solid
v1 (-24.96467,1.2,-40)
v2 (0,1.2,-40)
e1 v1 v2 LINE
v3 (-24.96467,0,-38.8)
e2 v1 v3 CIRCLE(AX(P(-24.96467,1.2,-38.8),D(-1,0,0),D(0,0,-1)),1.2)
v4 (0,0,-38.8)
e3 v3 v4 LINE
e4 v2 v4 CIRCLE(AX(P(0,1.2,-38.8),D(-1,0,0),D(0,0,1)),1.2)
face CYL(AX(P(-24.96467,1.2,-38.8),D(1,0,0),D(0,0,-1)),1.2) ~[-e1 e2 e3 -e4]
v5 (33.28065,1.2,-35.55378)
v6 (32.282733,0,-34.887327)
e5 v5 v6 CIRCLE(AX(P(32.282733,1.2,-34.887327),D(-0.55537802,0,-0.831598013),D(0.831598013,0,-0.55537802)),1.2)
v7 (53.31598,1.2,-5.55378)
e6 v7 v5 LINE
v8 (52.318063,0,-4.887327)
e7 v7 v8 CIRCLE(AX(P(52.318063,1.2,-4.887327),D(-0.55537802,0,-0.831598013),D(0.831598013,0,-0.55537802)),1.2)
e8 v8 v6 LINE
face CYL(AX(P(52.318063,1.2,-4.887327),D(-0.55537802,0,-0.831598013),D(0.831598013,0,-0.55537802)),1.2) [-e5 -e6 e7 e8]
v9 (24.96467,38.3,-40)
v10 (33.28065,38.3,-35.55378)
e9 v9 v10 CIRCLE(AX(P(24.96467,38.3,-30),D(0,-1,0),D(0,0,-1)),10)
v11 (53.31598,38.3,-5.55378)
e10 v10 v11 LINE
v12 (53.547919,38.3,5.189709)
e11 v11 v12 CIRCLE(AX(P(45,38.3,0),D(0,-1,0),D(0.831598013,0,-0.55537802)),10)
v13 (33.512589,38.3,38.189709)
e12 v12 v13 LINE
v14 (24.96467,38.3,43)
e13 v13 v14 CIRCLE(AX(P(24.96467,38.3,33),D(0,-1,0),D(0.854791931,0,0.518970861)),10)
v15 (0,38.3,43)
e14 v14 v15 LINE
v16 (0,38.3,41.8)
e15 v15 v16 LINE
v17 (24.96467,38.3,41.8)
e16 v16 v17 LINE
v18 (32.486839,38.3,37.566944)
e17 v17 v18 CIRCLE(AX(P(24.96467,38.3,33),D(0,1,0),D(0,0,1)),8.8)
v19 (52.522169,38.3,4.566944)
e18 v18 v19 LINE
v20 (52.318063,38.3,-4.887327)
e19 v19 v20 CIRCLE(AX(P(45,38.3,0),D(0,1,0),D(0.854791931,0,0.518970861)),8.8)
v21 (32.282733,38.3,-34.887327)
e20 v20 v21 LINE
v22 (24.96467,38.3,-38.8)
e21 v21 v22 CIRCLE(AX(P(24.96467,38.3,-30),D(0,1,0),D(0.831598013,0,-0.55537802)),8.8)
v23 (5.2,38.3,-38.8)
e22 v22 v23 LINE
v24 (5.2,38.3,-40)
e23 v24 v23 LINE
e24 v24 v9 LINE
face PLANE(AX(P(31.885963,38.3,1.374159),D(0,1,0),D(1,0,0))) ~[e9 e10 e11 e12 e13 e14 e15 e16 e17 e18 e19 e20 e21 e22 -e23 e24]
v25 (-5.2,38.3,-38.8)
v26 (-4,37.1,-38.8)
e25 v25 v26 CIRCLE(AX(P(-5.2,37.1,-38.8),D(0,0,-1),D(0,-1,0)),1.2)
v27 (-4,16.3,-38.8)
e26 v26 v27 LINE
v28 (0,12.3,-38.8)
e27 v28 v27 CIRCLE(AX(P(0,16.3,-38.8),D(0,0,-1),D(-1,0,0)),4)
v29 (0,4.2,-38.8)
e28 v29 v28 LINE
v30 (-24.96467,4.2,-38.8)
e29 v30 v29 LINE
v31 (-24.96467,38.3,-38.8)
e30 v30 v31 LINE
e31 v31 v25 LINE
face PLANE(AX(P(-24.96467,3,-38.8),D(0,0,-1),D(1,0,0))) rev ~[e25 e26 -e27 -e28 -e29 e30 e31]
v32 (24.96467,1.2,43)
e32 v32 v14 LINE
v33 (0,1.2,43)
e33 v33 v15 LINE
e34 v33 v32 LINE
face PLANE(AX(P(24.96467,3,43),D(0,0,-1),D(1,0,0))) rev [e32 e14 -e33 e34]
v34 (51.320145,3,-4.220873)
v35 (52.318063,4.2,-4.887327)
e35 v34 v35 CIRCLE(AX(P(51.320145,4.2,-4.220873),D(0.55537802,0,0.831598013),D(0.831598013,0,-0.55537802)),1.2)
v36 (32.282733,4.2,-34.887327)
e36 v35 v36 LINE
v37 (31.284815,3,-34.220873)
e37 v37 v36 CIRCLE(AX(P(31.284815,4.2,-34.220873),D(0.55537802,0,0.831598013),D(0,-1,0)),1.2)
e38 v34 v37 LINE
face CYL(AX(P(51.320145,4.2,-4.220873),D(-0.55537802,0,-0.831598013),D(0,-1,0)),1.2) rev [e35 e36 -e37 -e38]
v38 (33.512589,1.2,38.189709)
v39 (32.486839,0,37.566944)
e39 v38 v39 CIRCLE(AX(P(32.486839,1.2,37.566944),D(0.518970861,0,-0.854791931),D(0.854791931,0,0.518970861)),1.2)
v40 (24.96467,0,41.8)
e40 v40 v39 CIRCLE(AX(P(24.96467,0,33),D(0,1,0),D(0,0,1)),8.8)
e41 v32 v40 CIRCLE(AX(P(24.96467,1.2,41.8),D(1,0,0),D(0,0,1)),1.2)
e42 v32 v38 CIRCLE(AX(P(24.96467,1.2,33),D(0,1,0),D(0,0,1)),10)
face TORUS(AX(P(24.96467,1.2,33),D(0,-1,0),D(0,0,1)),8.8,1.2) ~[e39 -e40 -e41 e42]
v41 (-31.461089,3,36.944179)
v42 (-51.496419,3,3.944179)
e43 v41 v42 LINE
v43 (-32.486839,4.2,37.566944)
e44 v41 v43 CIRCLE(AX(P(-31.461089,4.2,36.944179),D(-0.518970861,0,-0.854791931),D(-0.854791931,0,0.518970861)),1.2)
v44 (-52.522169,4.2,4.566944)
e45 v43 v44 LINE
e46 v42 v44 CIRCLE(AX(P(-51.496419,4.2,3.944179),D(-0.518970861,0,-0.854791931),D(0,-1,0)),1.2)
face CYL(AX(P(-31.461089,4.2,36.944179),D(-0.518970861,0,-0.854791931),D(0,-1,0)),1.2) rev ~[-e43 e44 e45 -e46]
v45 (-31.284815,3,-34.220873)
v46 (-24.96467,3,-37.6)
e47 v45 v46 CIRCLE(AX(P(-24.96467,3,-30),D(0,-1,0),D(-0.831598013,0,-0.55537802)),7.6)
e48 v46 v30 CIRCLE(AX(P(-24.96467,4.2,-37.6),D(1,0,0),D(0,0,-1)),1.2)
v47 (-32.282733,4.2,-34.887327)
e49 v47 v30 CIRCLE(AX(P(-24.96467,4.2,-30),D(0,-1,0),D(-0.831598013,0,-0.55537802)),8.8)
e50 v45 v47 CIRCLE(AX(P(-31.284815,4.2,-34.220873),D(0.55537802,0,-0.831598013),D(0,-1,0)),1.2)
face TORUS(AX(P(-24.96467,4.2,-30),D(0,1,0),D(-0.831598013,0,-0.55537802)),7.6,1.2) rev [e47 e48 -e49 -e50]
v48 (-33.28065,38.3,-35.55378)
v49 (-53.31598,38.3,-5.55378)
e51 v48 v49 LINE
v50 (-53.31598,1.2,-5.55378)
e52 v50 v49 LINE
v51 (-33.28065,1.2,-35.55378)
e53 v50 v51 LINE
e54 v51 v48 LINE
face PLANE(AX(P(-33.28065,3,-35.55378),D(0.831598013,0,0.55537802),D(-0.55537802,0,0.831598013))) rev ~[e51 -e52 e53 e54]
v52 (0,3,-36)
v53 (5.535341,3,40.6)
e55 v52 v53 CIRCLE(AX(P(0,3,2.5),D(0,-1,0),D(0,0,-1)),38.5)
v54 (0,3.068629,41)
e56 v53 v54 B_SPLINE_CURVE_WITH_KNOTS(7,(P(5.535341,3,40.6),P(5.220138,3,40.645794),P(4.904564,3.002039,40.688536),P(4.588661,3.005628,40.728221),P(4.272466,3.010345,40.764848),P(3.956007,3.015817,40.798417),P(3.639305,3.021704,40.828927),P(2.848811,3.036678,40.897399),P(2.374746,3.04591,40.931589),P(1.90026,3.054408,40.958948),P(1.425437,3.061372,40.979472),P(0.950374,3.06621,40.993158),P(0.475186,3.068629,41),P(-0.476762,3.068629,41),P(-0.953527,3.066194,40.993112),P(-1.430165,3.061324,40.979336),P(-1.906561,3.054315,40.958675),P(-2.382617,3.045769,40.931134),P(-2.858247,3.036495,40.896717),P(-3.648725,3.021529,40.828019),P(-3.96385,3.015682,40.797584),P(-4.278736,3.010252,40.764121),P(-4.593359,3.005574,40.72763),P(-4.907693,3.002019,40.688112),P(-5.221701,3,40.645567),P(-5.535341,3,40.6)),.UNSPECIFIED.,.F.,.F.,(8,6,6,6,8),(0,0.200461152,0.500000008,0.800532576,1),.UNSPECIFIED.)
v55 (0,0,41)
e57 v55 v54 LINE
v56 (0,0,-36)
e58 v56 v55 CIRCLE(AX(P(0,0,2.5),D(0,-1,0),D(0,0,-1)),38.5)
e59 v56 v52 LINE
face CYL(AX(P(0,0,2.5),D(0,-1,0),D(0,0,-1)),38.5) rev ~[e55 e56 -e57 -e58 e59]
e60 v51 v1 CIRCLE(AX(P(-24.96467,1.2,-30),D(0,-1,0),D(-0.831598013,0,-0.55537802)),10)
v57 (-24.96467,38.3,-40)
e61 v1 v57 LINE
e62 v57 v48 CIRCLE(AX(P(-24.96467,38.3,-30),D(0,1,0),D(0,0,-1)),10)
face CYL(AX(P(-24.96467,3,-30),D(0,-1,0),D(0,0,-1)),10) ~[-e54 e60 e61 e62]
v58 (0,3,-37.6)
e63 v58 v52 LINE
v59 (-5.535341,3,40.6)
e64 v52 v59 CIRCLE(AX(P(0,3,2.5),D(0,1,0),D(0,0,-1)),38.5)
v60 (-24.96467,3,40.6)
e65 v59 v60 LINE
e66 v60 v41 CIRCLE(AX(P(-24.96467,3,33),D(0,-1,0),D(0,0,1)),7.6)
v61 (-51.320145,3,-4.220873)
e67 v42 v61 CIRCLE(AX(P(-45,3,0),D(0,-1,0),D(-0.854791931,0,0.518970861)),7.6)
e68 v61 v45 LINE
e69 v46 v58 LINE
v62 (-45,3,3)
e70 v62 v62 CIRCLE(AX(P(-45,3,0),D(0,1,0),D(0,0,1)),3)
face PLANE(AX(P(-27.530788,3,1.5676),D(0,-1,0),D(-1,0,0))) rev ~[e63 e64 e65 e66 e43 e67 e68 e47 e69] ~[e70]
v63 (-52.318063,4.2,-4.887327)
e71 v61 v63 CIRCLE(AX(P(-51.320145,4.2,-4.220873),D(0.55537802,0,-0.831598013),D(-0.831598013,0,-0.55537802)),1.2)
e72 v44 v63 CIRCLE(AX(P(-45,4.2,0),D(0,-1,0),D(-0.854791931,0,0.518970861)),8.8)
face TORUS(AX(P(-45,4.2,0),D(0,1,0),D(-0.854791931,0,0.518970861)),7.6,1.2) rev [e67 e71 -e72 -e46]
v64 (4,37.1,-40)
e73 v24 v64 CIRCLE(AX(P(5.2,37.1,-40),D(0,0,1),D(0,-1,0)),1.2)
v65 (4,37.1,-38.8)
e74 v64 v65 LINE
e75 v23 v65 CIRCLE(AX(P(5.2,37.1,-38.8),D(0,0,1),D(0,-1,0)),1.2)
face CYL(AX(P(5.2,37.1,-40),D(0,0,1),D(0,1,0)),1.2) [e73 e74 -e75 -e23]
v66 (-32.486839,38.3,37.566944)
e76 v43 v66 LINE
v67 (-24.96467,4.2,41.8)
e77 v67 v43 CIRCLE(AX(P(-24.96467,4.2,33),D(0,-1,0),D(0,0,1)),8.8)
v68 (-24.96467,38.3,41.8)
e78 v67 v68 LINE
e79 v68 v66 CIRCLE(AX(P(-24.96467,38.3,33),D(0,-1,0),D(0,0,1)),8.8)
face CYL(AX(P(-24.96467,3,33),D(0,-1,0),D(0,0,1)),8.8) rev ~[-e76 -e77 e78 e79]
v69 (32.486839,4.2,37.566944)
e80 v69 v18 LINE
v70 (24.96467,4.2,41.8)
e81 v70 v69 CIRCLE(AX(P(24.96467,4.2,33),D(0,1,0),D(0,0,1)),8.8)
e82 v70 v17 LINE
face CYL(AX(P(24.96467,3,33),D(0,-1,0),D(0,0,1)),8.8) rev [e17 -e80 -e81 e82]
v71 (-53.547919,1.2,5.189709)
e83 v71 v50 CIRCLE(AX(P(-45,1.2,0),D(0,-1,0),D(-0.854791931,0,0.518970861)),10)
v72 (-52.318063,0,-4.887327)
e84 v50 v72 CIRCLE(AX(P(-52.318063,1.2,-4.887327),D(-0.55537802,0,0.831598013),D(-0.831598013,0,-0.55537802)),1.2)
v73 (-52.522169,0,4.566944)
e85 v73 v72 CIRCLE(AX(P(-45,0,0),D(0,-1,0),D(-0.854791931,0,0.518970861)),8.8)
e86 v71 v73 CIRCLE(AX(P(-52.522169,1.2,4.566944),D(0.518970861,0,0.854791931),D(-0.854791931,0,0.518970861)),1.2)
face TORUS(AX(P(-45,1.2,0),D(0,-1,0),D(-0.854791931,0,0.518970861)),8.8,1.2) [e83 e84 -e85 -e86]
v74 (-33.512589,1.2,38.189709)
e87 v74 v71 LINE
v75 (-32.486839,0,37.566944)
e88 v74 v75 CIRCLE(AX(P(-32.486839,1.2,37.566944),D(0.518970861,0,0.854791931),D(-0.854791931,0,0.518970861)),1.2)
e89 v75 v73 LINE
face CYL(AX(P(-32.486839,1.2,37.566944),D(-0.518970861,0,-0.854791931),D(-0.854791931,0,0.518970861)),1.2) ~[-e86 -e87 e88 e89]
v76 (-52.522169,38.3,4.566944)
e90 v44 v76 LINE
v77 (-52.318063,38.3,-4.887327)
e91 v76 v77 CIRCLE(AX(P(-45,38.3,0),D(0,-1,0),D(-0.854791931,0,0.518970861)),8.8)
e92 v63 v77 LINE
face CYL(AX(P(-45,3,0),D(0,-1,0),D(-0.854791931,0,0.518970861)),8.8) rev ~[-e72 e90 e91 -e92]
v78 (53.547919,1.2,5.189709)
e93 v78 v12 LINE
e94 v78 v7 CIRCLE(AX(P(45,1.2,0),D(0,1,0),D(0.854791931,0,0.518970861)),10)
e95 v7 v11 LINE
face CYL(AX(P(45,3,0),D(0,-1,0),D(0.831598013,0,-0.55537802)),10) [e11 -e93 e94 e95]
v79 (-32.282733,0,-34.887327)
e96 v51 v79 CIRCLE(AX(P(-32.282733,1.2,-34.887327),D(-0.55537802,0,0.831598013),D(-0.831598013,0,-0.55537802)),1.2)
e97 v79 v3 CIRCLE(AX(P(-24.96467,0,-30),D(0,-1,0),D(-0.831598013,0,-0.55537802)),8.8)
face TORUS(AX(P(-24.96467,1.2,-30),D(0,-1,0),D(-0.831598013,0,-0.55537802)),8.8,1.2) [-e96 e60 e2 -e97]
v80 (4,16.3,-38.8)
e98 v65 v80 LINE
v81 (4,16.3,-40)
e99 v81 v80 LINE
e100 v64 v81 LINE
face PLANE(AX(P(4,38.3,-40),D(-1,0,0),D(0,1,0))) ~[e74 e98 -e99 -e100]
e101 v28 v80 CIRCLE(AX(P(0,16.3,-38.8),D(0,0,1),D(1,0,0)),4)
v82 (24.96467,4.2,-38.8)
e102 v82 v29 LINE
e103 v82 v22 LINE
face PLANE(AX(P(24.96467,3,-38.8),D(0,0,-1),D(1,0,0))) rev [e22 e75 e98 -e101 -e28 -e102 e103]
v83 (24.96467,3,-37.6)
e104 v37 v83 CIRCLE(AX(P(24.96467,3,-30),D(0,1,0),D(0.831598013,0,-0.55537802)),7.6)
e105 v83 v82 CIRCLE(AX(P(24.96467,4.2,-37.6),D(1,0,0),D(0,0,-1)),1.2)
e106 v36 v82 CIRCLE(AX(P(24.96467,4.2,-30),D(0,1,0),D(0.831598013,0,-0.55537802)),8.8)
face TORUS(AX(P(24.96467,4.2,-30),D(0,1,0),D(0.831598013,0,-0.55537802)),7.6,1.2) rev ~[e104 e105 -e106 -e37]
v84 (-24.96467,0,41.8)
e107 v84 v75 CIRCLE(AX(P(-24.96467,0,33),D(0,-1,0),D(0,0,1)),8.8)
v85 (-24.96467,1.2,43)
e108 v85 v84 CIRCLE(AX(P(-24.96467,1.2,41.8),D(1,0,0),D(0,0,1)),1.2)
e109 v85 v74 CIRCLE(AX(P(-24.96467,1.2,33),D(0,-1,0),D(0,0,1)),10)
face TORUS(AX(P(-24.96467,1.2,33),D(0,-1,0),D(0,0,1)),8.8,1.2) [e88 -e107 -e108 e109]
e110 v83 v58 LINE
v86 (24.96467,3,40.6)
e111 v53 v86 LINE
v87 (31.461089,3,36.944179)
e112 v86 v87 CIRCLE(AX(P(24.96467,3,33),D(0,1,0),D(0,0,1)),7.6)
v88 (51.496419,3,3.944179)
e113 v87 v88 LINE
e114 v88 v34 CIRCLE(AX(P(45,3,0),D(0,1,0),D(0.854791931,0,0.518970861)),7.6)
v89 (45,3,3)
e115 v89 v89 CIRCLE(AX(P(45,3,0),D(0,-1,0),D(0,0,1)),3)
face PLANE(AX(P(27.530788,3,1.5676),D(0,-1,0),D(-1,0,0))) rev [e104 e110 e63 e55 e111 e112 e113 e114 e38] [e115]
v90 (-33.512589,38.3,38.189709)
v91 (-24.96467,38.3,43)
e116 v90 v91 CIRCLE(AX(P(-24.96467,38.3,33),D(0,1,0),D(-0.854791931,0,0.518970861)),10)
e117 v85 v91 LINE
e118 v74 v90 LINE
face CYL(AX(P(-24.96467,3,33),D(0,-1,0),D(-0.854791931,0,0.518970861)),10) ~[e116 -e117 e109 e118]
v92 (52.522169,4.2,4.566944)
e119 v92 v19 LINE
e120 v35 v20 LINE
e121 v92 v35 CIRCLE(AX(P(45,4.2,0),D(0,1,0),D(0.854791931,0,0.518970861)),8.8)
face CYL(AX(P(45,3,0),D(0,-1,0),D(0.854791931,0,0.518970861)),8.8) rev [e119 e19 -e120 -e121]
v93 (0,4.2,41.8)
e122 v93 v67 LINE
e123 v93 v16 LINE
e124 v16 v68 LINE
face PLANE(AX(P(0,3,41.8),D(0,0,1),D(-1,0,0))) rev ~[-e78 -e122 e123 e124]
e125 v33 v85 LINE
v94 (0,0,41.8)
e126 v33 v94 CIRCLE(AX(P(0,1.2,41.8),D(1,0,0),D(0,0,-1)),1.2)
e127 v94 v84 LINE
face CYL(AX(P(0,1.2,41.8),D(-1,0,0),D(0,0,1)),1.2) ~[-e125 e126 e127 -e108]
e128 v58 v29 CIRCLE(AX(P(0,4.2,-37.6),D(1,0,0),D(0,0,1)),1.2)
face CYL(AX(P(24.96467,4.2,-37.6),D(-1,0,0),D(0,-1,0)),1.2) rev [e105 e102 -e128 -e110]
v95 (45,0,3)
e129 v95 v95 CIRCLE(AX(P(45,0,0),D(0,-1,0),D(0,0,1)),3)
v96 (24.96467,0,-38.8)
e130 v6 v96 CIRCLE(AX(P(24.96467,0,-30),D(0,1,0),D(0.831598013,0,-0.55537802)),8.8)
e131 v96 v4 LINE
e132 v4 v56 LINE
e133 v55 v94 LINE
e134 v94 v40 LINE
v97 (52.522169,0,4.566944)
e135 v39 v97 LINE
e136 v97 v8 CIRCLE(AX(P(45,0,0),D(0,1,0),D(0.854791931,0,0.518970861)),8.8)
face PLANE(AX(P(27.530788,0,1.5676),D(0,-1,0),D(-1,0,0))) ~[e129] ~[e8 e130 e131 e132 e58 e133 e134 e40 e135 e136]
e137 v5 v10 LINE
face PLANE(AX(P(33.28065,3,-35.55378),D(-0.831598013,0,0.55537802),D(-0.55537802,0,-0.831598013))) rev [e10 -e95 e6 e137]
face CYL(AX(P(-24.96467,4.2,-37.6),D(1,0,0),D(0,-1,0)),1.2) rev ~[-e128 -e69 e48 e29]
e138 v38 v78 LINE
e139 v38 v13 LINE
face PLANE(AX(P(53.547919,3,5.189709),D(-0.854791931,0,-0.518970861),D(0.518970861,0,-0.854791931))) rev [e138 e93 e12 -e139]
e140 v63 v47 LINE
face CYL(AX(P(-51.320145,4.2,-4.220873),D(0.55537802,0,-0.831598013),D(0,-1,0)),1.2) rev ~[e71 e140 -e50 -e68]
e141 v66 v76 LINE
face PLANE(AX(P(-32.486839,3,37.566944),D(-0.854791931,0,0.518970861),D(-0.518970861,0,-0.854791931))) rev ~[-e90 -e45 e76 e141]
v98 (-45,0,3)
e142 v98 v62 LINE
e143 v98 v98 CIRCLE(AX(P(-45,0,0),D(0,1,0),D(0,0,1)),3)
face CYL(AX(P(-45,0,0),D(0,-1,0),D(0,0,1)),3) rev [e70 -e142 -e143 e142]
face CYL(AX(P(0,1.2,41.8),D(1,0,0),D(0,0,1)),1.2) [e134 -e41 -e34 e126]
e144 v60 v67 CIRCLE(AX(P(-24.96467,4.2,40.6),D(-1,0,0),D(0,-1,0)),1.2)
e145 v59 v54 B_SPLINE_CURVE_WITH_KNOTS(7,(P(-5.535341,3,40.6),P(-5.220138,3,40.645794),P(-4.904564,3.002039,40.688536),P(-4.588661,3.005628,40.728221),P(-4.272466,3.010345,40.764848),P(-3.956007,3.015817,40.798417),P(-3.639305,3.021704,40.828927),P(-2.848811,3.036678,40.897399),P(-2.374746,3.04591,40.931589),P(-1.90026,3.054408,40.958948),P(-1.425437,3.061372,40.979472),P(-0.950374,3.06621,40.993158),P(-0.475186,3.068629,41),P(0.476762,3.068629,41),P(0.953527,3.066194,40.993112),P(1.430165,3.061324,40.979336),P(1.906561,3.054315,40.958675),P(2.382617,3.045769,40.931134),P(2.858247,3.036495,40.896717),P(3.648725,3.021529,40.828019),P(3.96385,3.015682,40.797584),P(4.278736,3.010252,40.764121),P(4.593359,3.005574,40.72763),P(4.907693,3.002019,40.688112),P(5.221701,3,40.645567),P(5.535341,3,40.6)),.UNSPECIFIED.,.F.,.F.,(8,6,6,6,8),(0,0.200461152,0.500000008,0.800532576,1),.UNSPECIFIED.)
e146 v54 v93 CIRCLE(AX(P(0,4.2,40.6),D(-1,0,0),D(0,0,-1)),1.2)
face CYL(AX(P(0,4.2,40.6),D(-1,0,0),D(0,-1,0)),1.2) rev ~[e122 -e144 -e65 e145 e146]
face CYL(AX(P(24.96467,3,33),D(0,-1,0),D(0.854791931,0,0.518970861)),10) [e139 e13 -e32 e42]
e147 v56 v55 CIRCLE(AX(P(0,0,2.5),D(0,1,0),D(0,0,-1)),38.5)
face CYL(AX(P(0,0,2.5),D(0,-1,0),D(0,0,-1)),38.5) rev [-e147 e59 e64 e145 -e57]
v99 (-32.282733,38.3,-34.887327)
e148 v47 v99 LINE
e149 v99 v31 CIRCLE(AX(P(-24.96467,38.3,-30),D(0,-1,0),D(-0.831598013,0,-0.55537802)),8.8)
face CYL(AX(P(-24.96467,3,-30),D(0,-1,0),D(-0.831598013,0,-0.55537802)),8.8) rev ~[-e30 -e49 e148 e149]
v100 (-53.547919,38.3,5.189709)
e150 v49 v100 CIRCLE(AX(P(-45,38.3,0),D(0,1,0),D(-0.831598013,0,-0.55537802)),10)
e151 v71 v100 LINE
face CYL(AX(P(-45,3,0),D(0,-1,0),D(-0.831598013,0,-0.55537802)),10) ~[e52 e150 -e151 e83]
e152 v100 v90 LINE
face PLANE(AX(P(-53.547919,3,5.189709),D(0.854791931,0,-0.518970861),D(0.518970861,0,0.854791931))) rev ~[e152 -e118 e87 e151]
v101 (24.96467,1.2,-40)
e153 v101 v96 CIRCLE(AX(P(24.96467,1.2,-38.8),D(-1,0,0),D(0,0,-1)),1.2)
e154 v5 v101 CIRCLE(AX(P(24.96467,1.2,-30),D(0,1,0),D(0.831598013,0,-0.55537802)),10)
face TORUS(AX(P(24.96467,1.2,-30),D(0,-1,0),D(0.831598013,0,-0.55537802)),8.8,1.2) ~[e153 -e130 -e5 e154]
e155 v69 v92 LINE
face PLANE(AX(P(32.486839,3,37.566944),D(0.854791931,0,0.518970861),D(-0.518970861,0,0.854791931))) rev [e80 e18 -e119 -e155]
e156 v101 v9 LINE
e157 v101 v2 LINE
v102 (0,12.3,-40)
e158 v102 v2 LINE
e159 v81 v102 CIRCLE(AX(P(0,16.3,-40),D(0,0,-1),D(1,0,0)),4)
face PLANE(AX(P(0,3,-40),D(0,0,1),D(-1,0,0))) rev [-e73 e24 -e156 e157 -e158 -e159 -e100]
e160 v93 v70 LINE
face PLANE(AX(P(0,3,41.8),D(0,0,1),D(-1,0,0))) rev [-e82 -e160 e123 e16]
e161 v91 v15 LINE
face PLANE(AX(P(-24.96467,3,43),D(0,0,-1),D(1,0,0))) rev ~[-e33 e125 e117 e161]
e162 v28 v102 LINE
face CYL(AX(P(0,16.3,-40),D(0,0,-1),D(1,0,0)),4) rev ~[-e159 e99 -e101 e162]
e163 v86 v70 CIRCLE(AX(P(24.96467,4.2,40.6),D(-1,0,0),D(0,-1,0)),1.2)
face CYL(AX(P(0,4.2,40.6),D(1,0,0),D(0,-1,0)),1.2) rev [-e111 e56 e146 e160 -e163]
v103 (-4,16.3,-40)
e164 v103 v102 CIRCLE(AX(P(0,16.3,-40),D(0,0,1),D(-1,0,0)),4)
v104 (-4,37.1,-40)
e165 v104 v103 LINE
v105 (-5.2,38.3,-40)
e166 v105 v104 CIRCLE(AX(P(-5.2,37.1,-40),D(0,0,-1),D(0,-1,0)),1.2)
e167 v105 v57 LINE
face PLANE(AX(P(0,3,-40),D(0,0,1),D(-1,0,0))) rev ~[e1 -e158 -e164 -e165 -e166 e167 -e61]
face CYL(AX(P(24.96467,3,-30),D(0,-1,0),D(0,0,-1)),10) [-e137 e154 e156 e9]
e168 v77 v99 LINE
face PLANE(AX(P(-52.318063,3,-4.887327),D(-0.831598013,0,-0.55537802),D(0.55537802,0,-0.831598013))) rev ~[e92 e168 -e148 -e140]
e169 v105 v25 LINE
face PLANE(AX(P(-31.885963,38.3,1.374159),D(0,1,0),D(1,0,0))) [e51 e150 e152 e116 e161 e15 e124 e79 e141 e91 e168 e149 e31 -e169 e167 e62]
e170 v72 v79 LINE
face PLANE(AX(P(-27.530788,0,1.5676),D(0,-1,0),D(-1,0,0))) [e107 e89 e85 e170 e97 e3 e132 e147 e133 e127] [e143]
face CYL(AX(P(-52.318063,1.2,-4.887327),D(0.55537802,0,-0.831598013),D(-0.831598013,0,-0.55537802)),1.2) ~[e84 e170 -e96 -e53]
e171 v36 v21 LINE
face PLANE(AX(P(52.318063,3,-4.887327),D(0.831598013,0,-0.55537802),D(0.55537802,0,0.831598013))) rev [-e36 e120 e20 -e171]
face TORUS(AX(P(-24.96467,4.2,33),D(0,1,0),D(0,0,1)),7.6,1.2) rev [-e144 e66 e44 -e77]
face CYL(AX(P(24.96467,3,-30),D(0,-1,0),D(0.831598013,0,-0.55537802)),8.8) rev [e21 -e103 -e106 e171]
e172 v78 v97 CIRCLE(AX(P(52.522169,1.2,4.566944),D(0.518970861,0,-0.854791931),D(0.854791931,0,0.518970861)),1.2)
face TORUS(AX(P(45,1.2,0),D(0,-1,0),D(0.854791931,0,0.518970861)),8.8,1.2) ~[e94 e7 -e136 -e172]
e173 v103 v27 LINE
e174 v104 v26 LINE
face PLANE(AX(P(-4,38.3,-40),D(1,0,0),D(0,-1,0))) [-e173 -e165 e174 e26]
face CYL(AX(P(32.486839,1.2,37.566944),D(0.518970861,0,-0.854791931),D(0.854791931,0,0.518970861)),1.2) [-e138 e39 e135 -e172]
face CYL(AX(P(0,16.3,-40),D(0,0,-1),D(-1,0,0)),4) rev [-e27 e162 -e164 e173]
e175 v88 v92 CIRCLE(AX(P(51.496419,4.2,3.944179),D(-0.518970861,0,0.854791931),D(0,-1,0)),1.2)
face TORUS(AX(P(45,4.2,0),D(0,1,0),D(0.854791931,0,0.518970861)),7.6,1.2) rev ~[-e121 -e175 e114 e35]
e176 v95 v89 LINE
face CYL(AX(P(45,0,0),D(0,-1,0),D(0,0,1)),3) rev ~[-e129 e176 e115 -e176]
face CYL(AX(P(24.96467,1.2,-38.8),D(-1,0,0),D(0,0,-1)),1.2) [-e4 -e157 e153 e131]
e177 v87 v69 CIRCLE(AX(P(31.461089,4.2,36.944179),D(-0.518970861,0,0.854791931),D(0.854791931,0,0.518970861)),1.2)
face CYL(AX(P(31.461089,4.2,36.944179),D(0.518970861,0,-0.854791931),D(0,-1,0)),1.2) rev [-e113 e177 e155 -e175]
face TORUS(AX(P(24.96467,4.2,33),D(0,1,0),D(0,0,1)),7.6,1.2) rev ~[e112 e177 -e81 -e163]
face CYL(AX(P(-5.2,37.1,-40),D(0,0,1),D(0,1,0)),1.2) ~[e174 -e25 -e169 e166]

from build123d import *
from build123d.topology import SkipClean

# Parameters (mm, degrees)
ESQUISSE1_R             = 3
BOSS_EXTRU_1_DEPTH      = 3
EXTRU_MINCE1_DEPTH      = 35.3
ENL_V_MAT_EXTRU_1_DEPTH = 10
CONG_1_R                = 1.2


with BuildPart() as part:
    # Esquisse1 → Boss.-Extru.1 (new body)
    with BuildSketch(Plane(origin=(0, 0, 0), x_dir=(1, 0, 0), z_dir=(0, 1, 0))):
        with BuildLine():
            Line((0, 40), (0, 36))
            ThreePointArc((0, 36), (-38.5, -2.5), (0, -41))
            Line((0, -41), (0, -43))
            Line((0, -43), (-24.964670006, -43))
            ThreePointArc((-24.964670006, -43), (-29.868898482, -41.714846129), (-33.512589316, -38.189708611))
            Line((-33.512589316, -38.189708611), (-53.54791931, -5.189708611))
            ThreePointArc((-53.54791931, -5.189708611), (-54.99767043, 0.215837849), (-53.315980127, 5.553780202))
            Line((-53.315980127, 5.553780202), (-33.280650133, 35.553780202))
            ThreePointArc((-33.280650133, 35.553780202), (-29.679656643, 38.818667757), (-24.964670006, 40))
            Line((-24.964670006, 40), (0, 40))
        make_face()
        with Locations(Location((-45, 0, 0), (0, 0, 270))):
            Circle(ESQUISSE1_R, mode=Mode.SUBTRACT)
    extrude(amount=BOSS_EXTRU_1_DEPTH)

    # Esquisse2 → Extru.-Mince1 (add)
    with BuildSketch(Plane(origin=(0, 3, 0), x_dir=(1, 0, 0), z_dir=(0, 1, 0))):
        with BuildLine():
            Line((0, 40), (-24.964670006, 40))
            ThreePointArc((-24.964670006, 40), (-29.679656643, 38.818667757), (-33.280650133, 35.553780202))
            Line((-33.280650133, 35.553780202), (-53.315980127, 5.553780202))
            ThreePointArc((-53.315980127, 5.553780202), (-54.99767043, 0.215837849), (-53.54791931, -5.189708611))
            Line((-53.54791931, -5.189708611), (-33.512589316, -38.189708611))
            ThreePointArc((-33.512589316, -38.189708611), (-29.868898482, -41.714846129), (-24.964670006, -43))
            Line((-24.964670006, -43), (0, -43))
            Line((0, -43), (0, -41.8))
            Line((0, -41.8), (-24.964670006, -41.8))
            ThreePointArc((-24.964670006, -41.8), (-29.280391065, -40.669064594), (-32.486838999, -37.566943577))
            Line((-32.486838999, -37.566943577), (-52.522168993, -4.566943577))
            ThreePointArc((-52.522168993, -4.566943577), (-53.797949978, 0.189937307), (-52.318062511, 4.887326578))
            Line((-52.318062511, 4.887326578), (-32.282732517, 34.887326578))
            ThreePointArc((-32.282732517, 34.887326578), (-29.113858247, 37.760427626), (-24.964670006, 38.8))
            Line((-24.964670006, 38.8), (0, 38.8))
            Line((0, 38.8), (0, 40))
        make_face()
    extrude(amount=EXTRU_MINCE1_DEPTH)

    # Esquisse3 → Enlèv. mat.-Extru.1 (cut)
    with BuildSketch(Plane(origin=(0, 0, -40), x_dir=(-1, 0, 0), z_dir=(0, 0, -1))):
        with BuildLine():
            Line((-4, 16.3), (-4, 38.3))
            ThreePointArc((-4, 38.3), (0, 42.3), (4, 38.3))
            Line((4, 38.3), (4, 16.3))
            ThreePointArc((4, 16.3), (0, 12.3), (-4, 16.3))
        make_face()
    extrude(amount=-ENL_V_MAT_EXTRU_1_DEPTH, mode=Mode.SUBTRACT)

    # Congé1
    cong_1_edges = [part.edges().sort_by_distance(p)[0] for p in [
        (-12.482335003, 3, 41.8),
        (-29.280391065, 3, 40.669064594),
        (-42.504503996, 3, 21.066943577),
        (-53.797949978, 3, -0.189937307),
        (-42.300397514, 3, -19.887326578),
        (-29.113858247, 3, -37.760427626),
        (-12.482335003, 3, -38.8),
        (-4, 38.3, -39.4),
        (-12.482335003, 0, -40),
        (-29.679656643, 0, -38.818667757),
        (-43.29831513, 0, -20.553780202),
        (-54.99767043, 0, -0.215837849),
        (-43.530254313, 0, 21.689708611),
        (-29.868898482, 0, 41.714846129),
        (-12.482335003, 0, 43),
    ]]
    fillet(cong_1_edges, radius=CONG_1_R)

    # Symétrie1: part across plane


with BuildPart() as part_1:
    with SkipClean():  # the faces are left unmerged after this step: merging them gives an invalid solid
        add(part.part)
        add(part.part.mirror(Plane(origin=(0, 3, 41), x_dir=(0, 0, 1), z_dir=(-1, 0, 0))))


solid = part_1.part
